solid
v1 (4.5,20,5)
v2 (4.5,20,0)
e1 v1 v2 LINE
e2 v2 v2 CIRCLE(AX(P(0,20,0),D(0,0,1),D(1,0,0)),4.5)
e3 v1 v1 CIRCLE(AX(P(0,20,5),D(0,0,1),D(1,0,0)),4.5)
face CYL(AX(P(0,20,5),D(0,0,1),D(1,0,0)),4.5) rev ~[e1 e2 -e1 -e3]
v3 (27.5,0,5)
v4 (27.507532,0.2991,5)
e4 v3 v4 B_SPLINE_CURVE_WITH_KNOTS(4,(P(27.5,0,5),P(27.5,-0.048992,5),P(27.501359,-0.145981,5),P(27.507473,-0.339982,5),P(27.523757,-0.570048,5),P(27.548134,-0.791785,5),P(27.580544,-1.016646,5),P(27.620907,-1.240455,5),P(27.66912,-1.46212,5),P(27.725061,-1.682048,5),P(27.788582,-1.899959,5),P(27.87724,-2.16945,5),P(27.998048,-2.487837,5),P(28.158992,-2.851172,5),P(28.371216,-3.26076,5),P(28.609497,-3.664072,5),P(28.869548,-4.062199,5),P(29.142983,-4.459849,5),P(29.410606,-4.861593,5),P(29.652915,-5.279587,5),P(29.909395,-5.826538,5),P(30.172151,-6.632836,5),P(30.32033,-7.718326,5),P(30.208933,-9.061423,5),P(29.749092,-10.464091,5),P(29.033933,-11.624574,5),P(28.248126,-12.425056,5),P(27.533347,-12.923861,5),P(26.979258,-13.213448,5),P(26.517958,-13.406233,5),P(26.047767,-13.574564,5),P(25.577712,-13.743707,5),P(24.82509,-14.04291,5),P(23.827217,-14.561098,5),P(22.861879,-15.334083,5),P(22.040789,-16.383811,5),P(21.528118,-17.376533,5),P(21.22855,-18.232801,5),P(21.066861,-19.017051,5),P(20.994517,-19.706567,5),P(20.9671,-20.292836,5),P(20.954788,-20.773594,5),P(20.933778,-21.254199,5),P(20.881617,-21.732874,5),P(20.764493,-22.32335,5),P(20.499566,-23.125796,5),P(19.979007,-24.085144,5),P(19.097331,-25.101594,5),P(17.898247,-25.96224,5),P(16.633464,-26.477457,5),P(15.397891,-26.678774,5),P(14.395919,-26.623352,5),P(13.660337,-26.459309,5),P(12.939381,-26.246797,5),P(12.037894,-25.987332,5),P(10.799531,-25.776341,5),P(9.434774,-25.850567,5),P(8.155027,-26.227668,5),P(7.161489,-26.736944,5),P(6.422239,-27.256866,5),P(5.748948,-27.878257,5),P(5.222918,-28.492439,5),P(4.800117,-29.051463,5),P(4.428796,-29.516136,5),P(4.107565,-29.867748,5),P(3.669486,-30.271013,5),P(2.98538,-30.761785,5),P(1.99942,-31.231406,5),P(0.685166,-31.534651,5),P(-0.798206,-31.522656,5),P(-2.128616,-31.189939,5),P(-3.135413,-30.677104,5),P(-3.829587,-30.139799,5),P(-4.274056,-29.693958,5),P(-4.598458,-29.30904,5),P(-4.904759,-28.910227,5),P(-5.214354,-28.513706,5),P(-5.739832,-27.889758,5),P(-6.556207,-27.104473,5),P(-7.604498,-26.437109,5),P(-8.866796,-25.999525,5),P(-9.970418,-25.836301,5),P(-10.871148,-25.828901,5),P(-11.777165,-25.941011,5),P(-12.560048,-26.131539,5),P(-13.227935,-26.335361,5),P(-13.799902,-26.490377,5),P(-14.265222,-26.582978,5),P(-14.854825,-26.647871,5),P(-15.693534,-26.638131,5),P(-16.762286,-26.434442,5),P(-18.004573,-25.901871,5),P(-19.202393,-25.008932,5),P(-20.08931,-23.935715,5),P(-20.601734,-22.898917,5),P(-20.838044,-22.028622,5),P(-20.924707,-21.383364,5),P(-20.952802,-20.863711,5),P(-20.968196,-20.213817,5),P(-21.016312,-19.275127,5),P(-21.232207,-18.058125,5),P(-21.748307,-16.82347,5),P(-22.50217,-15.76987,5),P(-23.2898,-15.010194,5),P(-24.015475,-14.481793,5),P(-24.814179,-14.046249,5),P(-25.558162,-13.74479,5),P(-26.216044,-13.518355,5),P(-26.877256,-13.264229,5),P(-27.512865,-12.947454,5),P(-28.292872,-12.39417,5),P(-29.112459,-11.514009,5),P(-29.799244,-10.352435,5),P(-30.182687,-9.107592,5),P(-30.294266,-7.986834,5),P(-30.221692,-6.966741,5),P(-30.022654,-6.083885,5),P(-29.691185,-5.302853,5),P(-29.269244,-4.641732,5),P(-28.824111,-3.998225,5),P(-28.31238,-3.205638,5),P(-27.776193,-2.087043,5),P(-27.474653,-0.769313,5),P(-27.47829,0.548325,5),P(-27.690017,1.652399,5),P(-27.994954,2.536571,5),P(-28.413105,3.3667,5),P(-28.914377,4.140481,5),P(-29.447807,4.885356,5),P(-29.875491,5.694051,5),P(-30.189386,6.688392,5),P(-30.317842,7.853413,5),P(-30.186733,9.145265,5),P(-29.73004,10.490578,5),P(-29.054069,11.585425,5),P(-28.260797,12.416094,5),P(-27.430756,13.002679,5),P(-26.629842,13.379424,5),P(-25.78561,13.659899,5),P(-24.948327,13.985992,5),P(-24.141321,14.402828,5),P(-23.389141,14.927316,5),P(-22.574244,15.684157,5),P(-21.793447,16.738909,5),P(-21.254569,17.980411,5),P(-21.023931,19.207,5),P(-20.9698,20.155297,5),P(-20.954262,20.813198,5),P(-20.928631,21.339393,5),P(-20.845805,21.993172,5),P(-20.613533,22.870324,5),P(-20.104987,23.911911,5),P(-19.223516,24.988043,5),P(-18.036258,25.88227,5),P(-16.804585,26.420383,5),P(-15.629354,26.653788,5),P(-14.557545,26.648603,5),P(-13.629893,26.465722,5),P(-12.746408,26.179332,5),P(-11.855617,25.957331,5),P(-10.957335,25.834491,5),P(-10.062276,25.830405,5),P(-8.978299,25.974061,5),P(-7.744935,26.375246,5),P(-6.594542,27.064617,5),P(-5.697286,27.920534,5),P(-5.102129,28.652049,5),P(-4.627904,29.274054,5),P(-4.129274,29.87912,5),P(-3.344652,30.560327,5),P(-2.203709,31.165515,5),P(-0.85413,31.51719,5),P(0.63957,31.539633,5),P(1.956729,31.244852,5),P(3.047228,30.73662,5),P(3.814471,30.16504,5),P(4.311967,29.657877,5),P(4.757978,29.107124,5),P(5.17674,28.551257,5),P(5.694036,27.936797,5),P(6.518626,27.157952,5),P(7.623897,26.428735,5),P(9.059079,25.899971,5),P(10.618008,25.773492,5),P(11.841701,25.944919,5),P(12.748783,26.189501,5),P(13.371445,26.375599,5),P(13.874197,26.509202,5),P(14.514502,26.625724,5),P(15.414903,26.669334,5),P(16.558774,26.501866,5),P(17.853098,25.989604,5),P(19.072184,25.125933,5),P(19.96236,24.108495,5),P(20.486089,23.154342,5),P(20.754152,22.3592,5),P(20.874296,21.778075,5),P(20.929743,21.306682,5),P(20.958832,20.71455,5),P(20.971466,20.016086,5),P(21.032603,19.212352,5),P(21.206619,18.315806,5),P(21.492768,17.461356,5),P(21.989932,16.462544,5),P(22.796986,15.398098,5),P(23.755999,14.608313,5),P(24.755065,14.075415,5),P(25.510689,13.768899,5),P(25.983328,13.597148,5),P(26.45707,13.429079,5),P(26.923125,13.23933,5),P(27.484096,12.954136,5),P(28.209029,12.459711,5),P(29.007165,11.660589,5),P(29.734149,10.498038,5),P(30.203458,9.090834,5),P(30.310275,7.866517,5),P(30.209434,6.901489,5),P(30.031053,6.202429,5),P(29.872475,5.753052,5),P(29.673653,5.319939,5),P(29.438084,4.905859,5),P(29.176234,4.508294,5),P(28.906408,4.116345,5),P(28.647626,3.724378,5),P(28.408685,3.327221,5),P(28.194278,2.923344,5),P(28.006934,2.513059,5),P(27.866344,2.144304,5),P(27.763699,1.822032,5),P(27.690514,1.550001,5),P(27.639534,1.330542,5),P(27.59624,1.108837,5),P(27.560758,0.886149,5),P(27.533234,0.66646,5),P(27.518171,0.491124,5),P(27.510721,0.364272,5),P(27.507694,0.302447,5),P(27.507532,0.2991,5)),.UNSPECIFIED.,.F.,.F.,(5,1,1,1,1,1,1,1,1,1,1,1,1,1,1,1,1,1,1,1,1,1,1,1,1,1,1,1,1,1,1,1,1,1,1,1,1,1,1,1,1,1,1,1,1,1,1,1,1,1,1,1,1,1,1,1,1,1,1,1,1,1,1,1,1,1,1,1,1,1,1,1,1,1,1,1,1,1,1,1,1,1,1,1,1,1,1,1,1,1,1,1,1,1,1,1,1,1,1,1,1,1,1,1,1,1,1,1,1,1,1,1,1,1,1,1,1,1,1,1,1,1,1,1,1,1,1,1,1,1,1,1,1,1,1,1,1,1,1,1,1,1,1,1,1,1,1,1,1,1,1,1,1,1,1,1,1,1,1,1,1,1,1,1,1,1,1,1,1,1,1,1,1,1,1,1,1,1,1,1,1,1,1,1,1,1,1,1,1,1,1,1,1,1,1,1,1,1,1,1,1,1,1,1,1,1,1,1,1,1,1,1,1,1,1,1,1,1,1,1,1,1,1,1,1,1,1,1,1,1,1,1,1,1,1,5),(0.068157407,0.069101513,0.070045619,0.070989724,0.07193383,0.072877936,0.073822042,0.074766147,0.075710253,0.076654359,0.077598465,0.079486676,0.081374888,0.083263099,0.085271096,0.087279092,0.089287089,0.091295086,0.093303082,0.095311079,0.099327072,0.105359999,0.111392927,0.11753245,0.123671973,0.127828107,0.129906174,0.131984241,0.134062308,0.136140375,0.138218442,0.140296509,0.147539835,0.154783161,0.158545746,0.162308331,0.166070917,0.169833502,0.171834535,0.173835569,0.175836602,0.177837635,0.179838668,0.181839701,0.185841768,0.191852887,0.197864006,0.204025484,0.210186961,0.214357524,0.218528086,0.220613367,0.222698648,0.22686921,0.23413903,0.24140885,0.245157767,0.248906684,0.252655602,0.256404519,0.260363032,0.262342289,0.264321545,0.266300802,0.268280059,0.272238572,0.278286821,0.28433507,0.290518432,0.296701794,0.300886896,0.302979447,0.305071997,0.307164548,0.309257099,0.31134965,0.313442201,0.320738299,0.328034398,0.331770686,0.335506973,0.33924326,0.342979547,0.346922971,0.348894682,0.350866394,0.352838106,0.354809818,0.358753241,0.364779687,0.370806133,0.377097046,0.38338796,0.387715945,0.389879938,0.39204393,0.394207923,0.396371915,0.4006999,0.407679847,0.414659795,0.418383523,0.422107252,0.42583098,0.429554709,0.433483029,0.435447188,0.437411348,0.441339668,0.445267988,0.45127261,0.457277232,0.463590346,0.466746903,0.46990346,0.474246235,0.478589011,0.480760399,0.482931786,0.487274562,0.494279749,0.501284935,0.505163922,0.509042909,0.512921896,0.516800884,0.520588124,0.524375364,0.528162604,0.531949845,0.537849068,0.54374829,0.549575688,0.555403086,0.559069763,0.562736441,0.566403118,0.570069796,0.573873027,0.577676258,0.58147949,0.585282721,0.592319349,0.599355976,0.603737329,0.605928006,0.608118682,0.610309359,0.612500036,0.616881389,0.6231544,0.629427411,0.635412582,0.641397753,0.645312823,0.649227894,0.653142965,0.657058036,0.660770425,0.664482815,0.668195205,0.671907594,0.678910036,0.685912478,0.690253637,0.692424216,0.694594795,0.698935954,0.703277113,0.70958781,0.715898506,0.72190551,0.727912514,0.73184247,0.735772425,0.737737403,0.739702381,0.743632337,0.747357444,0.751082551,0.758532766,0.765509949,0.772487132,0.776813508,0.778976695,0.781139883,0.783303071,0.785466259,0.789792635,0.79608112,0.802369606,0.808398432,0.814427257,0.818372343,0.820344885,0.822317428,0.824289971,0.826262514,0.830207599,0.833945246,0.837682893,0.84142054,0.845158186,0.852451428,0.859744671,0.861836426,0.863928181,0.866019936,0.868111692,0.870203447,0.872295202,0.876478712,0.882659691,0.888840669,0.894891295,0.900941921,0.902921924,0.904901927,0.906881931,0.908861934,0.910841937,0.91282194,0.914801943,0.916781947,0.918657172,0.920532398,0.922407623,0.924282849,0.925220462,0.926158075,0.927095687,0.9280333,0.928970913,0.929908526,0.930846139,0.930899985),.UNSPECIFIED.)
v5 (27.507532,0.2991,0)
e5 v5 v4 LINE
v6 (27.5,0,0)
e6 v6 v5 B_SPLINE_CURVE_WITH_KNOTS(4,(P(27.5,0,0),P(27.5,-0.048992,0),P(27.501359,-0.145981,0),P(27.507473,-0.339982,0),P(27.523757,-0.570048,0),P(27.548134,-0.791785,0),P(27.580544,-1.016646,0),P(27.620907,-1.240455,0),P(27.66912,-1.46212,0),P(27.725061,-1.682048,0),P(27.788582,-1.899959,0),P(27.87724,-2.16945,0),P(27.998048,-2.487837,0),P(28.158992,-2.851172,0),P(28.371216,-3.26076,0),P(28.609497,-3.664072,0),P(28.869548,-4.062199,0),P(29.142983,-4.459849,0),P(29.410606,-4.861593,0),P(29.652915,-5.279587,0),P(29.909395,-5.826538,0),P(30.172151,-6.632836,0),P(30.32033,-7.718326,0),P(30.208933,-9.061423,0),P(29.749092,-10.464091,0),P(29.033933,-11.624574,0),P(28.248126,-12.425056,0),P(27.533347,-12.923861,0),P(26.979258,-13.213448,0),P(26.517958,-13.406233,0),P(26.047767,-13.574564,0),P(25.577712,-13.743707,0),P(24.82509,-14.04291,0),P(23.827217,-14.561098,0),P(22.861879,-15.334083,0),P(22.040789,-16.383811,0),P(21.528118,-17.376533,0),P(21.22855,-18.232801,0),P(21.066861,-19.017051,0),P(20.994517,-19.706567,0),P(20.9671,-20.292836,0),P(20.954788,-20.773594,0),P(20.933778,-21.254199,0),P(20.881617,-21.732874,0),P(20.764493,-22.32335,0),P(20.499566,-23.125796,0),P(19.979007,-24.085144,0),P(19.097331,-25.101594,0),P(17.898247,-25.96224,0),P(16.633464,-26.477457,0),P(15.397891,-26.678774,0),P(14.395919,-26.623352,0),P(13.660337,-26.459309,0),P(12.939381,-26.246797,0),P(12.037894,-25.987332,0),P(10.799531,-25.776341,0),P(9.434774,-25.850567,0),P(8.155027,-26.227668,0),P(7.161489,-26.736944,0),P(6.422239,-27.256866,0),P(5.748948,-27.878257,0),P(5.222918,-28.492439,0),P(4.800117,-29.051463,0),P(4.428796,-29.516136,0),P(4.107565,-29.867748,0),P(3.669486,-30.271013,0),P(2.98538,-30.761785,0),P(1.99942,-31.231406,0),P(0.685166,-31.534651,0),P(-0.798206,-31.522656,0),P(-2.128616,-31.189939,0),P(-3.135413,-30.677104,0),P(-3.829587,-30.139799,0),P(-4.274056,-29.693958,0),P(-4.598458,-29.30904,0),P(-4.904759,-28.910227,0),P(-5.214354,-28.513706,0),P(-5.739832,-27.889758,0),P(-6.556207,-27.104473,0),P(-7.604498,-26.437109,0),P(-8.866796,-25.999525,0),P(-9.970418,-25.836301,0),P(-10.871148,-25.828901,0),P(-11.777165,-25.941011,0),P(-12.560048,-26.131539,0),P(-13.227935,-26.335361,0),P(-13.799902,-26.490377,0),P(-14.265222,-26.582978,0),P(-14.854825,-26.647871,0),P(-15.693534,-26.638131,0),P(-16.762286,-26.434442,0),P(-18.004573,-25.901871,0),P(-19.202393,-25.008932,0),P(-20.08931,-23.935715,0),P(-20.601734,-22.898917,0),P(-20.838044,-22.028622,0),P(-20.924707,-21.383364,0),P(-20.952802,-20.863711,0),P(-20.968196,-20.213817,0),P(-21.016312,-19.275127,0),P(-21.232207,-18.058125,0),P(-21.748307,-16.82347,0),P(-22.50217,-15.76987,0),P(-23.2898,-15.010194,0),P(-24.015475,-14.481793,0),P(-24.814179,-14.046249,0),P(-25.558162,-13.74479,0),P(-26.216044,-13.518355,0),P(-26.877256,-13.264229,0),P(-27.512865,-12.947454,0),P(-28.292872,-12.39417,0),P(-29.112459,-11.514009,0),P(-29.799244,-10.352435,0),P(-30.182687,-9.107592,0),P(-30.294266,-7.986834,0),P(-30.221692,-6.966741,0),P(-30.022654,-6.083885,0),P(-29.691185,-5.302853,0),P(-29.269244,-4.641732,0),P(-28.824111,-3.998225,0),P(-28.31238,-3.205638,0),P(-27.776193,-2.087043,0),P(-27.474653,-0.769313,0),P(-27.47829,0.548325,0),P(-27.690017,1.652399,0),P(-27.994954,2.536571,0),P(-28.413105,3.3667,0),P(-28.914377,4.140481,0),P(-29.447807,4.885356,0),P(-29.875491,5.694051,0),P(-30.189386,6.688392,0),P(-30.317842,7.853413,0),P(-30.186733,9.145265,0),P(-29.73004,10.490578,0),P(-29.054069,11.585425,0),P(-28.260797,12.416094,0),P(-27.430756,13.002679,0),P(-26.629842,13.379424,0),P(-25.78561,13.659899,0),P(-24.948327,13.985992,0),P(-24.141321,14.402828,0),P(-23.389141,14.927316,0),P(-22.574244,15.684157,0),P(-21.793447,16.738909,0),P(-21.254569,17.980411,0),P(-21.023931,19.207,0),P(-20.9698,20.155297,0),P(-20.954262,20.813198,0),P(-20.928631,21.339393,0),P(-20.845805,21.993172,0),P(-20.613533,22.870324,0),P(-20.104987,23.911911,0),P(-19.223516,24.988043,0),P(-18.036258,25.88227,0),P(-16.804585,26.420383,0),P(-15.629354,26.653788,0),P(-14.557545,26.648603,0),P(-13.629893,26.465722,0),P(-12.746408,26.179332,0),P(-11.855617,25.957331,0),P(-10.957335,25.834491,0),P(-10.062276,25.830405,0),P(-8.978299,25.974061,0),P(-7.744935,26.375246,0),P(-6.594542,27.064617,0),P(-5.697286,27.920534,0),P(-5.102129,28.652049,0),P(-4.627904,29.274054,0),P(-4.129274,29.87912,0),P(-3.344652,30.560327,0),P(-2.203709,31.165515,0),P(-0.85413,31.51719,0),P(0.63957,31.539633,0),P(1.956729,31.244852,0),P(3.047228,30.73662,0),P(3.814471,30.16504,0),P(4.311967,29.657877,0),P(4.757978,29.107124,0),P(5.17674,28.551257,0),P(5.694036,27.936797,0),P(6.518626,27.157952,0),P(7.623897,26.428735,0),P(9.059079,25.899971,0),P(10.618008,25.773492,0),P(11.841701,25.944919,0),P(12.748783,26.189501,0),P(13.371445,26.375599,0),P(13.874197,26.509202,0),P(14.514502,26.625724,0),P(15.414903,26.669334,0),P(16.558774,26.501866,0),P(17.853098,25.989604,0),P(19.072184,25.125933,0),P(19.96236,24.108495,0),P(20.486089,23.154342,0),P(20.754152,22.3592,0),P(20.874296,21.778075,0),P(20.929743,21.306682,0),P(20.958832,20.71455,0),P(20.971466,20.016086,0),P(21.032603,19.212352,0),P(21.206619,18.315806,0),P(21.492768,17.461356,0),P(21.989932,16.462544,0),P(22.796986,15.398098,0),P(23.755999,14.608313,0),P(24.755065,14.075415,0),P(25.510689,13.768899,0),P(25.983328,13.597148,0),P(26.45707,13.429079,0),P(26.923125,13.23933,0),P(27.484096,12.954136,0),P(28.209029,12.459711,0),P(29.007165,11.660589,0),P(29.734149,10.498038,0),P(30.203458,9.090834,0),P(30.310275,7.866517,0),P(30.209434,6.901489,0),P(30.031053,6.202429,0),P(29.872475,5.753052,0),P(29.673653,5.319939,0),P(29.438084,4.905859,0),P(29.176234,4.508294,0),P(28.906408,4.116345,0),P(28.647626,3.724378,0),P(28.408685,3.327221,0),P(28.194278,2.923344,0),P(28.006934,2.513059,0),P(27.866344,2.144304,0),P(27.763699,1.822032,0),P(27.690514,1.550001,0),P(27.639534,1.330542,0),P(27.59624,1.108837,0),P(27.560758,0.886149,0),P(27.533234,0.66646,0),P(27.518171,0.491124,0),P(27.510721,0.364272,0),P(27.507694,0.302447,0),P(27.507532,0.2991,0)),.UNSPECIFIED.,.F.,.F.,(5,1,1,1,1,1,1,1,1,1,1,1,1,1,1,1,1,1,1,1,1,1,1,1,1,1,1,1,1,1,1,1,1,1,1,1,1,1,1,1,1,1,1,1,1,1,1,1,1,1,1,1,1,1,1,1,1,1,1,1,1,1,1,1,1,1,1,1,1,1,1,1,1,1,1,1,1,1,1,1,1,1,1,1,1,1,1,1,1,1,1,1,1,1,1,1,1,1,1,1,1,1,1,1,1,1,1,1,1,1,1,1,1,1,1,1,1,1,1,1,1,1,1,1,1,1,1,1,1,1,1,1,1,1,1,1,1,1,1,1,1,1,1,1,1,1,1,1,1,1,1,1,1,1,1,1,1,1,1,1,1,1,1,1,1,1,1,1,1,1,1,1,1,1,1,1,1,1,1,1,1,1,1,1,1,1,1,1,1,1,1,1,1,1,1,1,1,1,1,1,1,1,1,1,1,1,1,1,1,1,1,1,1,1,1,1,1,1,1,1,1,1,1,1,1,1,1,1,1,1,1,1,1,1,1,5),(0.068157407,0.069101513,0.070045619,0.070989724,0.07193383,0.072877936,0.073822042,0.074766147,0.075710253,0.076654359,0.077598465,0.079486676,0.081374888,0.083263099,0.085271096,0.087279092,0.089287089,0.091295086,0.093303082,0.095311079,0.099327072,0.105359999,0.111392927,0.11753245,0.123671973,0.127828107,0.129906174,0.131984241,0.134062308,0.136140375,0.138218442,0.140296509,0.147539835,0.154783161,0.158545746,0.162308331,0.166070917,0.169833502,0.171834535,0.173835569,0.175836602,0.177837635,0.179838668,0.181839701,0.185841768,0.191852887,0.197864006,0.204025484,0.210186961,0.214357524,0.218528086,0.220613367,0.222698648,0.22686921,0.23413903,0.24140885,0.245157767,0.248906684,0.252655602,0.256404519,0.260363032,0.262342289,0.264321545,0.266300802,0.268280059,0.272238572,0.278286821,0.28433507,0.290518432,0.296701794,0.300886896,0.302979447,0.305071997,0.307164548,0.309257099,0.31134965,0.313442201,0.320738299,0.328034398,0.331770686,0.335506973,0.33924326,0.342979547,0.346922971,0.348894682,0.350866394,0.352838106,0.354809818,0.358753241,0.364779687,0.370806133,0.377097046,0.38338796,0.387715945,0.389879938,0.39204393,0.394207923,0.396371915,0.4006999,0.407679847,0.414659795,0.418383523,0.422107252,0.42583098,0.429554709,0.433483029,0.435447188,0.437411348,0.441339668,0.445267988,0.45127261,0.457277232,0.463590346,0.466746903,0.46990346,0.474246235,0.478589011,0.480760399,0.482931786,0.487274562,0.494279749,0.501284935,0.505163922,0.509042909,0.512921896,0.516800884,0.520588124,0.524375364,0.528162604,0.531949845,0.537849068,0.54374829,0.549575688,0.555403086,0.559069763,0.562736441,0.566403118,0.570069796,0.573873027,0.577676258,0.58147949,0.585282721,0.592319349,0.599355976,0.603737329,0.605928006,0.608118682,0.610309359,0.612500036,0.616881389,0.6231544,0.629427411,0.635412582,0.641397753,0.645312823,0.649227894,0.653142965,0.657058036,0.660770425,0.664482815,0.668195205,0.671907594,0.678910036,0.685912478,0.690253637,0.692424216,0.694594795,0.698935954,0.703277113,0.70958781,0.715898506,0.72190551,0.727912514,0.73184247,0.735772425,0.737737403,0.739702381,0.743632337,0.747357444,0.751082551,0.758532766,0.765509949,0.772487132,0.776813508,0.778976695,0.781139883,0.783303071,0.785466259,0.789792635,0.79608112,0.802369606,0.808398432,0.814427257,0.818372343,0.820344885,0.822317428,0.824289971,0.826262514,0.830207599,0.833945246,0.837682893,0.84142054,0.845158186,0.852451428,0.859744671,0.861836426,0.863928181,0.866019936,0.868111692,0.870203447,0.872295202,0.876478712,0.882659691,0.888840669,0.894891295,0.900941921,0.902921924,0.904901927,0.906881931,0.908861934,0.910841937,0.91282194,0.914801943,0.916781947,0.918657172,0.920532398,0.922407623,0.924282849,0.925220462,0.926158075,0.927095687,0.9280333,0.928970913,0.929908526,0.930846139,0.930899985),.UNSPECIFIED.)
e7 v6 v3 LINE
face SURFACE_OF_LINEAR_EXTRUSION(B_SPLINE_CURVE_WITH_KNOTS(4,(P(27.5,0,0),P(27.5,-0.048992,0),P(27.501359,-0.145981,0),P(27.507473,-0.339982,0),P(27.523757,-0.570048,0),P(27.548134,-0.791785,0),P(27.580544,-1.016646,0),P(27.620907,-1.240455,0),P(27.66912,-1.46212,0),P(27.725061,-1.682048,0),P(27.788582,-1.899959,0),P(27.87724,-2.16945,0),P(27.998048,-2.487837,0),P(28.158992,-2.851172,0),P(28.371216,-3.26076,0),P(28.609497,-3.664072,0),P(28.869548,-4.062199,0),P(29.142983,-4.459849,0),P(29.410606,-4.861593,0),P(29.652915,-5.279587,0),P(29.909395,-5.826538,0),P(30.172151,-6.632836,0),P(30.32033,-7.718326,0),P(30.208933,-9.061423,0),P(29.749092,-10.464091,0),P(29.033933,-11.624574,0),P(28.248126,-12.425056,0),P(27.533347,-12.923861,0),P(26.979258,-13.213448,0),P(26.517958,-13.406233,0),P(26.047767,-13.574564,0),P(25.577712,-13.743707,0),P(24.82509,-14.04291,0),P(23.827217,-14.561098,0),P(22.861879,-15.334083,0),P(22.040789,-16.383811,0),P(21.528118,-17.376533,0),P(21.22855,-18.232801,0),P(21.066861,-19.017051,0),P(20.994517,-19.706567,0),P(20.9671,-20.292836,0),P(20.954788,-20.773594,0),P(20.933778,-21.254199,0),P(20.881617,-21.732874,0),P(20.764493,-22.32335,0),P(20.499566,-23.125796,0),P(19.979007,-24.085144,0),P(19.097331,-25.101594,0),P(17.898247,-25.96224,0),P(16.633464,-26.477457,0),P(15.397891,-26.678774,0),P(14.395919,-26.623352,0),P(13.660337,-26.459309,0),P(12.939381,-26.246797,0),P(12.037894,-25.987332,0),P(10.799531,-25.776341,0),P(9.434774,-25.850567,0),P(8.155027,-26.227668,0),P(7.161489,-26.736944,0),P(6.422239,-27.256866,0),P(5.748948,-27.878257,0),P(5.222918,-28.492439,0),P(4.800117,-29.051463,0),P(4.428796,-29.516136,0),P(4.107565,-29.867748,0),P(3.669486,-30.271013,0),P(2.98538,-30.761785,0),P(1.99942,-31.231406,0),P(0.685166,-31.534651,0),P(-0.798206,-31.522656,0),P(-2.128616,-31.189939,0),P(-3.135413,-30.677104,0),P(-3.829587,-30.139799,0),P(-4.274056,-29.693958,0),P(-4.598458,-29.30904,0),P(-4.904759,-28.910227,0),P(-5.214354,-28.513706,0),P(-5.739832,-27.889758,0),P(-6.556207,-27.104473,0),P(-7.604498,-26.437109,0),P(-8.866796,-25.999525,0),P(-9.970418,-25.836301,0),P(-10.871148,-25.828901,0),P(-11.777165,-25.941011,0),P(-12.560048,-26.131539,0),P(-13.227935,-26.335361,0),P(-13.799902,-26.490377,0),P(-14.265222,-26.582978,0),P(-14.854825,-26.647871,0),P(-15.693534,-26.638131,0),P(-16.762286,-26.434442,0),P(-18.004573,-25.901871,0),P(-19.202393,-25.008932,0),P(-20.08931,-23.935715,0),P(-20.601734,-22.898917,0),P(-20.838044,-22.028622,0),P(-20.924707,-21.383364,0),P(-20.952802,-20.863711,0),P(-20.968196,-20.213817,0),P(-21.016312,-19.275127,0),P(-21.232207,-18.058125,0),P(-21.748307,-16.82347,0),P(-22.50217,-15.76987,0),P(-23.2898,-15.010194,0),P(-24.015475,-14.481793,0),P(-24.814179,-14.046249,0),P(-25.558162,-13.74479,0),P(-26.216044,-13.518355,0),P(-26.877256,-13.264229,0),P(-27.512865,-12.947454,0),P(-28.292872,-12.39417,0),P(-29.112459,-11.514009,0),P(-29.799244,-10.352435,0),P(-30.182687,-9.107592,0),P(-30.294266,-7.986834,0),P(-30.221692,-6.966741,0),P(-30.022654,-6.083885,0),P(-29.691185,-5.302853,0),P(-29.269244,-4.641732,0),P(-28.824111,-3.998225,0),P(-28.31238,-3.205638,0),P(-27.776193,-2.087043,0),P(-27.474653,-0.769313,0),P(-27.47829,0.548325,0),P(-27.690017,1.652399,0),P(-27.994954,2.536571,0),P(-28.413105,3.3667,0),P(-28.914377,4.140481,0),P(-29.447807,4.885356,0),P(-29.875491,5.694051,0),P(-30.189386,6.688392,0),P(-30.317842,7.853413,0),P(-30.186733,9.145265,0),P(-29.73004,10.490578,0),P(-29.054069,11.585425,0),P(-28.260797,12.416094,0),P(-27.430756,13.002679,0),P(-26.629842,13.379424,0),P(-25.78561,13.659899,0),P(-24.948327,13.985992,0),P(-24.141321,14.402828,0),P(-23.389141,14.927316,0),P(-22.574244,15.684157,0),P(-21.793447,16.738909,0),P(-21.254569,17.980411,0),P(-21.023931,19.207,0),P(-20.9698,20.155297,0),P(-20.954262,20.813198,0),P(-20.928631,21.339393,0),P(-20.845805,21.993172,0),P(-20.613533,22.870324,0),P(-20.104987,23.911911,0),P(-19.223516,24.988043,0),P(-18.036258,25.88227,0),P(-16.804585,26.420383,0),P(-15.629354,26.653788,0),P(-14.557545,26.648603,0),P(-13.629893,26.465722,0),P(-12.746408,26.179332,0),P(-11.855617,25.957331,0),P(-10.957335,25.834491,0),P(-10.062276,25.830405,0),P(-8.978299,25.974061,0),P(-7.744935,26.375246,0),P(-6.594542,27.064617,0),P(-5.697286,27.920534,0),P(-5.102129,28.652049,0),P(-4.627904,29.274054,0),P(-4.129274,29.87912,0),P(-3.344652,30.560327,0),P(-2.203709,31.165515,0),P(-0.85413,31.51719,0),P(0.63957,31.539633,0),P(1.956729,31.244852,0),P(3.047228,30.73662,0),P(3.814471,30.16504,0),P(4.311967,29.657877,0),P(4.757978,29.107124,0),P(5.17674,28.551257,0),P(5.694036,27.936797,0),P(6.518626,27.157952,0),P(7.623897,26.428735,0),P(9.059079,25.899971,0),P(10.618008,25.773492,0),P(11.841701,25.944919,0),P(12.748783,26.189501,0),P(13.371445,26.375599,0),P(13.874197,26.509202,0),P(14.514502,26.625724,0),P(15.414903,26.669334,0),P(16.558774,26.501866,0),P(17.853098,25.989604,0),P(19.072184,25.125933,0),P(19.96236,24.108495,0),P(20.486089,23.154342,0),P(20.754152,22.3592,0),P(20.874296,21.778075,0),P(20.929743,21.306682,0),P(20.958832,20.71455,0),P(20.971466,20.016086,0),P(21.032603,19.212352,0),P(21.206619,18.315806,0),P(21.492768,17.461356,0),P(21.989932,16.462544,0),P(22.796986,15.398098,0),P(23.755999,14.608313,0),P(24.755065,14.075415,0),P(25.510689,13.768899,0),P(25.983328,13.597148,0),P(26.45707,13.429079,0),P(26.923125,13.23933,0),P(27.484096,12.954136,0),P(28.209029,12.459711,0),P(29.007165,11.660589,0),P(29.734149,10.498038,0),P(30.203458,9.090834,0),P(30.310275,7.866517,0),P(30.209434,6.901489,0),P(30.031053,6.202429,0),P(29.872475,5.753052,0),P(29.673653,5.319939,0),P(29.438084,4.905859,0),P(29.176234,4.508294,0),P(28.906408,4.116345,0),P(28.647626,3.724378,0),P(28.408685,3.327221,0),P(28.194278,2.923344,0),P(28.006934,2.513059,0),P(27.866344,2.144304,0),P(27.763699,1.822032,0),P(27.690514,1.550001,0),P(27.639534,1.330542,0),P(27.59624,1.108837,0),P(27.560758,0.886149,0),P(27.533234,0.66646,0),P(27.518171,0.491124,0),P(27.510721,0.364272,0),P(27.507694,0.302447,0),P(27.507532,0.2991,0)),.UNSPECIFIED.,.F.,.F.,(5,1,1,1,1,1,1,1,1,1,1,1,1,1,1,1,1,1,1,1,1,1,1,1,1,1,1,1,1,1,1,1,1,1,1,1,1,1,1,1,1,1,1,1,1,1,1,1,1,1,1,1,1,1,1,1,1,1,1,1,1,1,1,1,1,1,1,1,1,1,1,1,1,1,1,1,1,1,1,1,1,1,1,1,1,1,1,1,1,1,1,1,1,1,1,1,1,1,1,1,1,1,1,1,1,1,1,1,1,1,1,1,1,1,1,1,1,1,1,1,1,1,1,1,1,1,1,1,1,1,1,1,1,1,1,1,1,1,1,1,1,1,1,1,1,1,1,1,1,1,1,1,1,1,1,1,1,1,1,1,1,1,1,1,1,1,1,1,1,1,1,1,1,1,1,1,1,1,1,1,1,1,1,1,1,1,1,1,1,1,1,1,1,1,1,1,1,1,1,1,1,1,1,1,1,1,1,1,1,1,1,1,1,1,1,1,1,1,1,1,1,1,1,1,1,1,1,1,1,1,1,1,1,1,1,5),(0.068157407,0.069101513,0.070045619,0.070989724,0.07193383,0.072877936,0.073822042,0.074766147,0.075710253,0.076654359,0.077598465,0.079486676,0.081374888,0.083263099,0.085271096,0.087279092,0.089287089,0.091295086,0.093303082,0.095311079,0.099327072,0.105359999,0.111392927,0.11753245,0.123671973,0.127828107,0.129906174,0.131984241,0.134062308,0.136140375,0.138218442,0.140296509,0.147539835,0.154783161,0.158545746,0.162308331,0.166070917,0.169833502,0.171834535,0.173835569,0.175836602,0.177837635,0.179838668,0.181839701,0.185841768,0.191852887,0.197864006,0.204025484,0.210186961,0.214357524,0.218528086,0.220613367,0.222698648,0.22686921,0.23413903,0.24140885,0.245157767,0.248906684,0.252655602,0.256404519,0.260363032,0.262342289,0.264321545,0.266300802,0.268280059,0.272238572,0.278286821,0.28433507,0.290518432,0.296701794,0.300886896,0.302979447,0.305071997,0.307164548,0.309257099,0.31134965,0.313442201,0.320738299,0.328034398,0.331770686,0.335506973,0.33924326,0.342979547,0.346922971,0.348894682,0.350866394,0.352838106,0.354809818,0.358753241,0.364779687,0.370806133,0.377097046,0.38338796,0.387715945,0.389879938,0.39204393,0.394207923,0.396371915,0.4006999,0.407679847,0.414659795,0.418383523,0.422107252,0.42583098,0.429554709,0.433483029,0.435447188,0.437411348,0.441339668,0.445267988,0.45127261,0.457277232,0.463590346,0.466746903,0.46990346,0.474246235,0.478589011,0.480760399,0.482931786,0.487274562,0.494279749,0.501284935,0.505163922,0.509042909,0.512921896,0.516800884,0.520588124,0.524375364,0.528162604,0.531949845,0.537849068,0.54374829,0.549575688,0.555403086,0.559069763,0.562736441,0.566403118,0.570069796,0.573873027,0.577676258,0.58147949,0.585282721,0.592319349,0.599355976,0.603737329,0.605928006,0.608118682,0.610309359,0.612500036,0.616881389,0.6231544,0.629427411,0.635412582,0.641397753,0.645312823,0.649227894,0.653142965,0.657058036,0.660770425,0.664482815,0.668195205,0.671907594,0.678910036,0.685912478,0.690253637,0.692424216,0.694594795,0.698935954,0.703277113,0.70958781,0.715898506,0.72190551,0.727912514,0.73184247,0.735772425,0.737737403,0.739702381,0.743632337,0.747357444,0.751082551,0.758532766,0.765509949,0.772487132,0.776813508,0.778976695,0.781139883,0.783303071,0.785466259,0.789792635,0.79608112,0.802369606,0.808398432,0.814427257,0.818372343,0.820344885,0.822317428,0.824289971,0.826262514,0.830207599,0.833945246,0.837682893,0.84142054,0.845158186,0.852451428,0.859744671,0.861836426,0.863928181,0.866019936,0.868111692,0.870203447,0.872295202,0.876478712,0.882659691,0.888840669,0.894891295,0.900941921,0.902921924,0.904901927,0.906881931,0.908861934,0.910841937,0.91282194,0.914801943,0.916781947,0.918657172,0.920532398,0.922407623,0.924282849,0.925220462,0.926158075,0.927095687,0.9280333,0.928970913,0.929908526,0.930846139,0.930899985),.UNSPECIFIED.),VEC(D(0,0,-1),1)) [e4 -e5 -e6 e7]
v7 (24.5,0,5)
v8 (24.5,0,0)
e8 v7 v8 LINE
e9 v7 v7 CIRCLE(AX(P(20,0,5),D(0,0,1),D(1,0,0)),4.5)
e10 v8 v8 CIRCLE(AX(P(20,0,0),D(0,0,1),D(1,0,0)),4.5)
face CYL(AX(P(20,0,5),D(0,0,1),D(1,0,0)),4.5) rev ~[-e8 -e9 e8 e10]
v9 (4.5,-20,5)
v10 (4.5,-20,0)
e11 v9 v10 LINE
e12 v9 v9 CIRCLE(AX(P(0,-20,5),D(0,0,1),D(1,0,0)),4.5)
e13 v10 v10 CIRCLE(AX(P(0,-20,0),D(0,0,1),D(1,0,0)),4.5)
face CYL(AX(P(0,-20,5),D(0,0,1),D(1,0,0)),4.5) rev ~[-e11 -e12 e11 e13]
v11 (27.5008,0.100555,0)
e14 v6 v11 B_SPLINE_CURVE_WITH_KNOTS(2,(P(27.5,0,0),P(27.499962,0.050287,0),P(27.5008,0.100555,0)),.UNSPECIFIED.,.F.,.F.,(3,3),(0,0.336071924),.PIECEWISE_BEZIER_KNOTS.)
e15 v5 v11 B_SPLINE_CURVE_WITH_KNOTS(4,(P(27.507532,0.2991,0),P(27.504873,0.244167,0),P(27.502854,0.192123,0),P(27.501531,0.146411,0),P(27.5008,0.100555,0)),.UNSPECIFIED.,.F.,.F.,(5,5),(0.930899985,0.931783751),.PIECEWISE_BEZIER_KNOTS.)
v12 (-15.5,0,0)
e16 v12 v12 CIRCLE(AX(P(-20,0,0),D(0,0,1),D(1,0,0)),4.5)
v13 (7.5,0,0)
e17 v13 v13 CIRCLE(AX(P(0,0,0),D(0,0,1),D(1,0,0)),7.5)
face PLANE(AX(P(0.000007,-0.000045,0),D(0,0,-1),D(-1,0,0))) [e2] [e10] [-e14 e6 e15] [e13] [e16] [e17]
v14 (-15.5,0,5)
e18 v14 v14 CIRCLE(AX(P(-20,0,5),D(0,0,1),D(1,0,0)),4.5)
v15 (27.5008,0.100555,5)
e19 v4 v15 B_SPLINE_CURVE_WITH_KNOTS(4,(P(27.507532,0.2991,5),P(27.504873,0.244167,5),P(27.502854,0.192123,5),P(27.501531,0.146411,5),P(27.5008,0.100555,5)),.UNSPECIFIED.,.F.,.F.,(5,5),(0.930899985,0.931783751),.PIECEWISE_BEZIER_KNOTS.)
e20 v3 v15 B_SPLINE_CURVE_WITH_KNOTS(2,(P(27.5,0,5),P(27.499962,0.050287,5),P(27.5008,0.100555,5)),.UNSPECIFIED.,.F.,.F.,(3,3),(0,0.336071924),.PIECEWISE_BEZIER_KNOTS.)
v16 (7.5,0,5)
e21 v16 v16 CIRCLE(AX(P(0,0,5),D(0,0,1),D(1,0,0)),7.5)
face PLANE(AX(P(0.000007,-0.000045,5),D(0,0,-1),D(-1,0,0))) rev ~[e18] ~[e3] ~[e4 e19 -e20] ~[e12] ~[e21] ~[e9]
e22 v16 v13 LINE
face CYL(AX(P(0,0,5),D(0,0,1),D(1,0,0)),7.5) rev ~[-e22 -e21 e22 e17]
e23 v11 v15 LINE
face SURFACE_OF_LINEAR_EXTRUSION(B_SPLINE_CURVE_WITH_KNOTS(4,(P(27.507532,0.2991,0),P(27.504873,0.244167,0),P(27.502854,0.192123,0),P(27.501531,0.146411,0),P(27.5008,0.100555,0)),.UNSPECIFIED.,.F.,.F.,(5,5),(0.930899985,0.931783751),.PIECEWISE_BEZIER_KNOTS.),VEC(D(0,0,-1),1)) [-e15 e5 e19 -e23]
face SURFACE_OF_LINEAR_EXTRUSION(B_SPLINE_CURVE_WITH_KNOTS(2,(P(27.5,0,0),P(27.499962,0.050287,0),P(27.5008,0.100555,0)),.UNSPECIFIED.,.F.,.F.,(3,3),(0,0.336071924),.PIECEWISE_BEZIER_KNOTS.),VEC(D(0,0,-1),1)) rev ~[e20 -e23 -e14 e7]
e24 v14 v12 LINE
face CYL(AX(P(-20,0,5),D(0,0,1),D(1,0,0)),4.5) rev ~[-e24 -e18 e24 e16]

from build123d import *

# Parameters (mm, degrees)
BOSS_EXTRUDE1_DEPTH = 5
SKETCH3_R           = 7.5
CUT_EXTRUDE1_DEPTH  = 5
SKETCH4_R           = 4.5
CUT_EXTRUDE2_DEPTH  = 5


with BuildPart() as part:
    # Sketch2 → Boss-Extrude1 (new body)
    with BuildSketch(Plane.XY):
        with BuildLine():
            add(Edge.make_bspline(
                [(27.5, 0), (27.5, -0.04899217), (27.50135866, -0.145980801), (27.507472654, -0.339982279), (27.523756925, -0.570047647), (27.548133929, -0.791785096), (27.580543941, -1.016646016), (27.620906624, -1.240455333), (27.669120401, -1.462120318), (27.725061331, -1.682048112), (27.788581513, -1.899959083), (27.87723987, -2.16945037), (27.998047594, -2.487837294), (28.158992275, -2.851172113), (28.371216221, -3.260760334), (28.609496874, -3.664071589), (28.869547917, -4.062199399), (29.142983154, -4.459848636), (29.410606359, -4.861593026), (29.652914601, -5.27958699), (29.909394747, -5.826537984), (30.172150712, -6.632835686), (30.320330137, -7.718326385), (30.208932651, -9.061422993), (29.749092141, -10.464091162), (29.033932991, -11.624574121), (28.248126213, -12.425056122), (27.533347436, -12.923861083), (26.979258064, -13.213448171), (26.517958047, -13.406233161), (26.04776714, -13.574563835), (25.577712412, -13.7437073), (24.825090037, -14.04291038), (23.827217442, -14.561098484), (22.861879466, -15.334082504), (22.040788621, -16.383811215), (21.528118141, -17.376533007), (21.228550237, -18.232801464), (21.066860687, -19.017050522), (20.994517463, -19.706566829), (20.967099781, -20.292836156), (20.954787651, -20.773593995), (20.933778384, -21.254199064), (20.881616978, -21.732873579), (20.764492767, -22.323349948), (20.499566135, -23.12579641), (19.979007228, -24.085143815), (19.097331302, -25.101593868), (17.898246601, -25.962240434), (16.633463883, -26.477456981), (15.397891194, -26.678773779), (14.395919298, -26.623352055), (13.660337246, -26.459308742), (12.939381013, -26.246796934), (12.037894225, -25.987331765), (10.799530559, -25.776341191), (9.434774247, -25.850566789), (8.155026622, -26.227668412), (7.161489216, -26.736944431), (6.422239126, -27.256866119), (5.748947606, -27.878256719), (5.222918193, -28.4924395), (4.800117167, -29.051463242), (4.42879569, -29.516136265), (4.10756511, -29.86774765), (3.669485672, -30.271013184), (2.985379518, -30.761784692), (1.999420221, -31.231406385), (0.68516587, -31.534650673), (-0.798205604, -31.522656113), (-2.128615505, -31.189938616), (-3.135413349, -30.677103573), (-3.82958727, -30.139799491), (-4.274055959, -29.693957627), (-4.598457724, -29.309039614), (-4.904758838, -28.910227269), (-5.214354414, -28.513705816), (-5.739832162, -27.8897576), (-6.556207038, -27.104472974), (-7.604498456, -26.437108519), (-8.866795762, -25.999525451), (-9.970418078, -25.836301198), (-10.871148026, -25.828901412), (-11.777165475, -25.941010531), (-12.560048382, -26.131538667), (-13.227934503, -26.335361352), (-13.799901689, -26.490376768), (-14.26522164, -26.582977584), (-14.854825422, -26.647871085), (-15.693533833, -26.638131044), (-16.762285657, -26.434441739), (-18.004572962, -25.901871355), (-19.202392537, -25.00893244), (-20.089310365, -23.935714997), (-20.601734095, -22.898917155), (-20.838044071, -22.028621594), (-20.924706566, -21.383363928), (-20.952801811, -20.863710634), (-20.96819599, -20.213817255), (-21.01631244, -19.275126767), (-21.232207201, -18.058124945), (-21.748306978, -16.823469899), (-22.502170081, -15.769869921), (-23.289800172, -15.010193932), (-24.015474904, -14.481793444), (-24.814179253, -14.046249047), (-25.558161605, -13.744789797), (-26.216044268, -13.518355163), (-26.877255565, -13.264228871), (-27.512865113, -12.947453785), (-28.292872306, -12.394170003), (-29.112459011, -11.514008548), (-29.799243603, -10.352435058), (-30.182686666, -9.107591771), (-30.294266249, -7.986834397), (-30.221692293, -6.966740629), (-30.022653879, -6.083885018), (-29.691185023, -5.302853172), (-29.269244355, -4.641732216), (-28.824111069, -3.998224618), (-28.312379876, -3.205638073), (-27.776193235, -2.08704254), (-27.474652632, -0.769312565), (-27.478290084, 0.548325486), (-27.69001683, 1.652399406), (-27.994954116, 2.536570728), (-28.413105114, 3.366699758), (-28.914377217, 4.140481), (-29.447806729, 4.885355759), (-29.875490711, 5.694050512), (-30.189386197, 6.688392203), (-30.317842311, 7.85341256), (-30.186732607, 9.145264959), (-29.730040062, 10.490578333), (-29.054068555, 11.585424729), (-28.260797371, 12.416094066), (-27.430755725, 13.002678894), (-26.62984203, 13.379423564), (-25.785609625, 13.659898713), (-24.948326578, 13.985991882), (-24.141321444, 14.402828102), (-23.389141188, 14.927315645), (-22.574243756, 15.684157272), (-21.793446903, 16.7389094), (-21.254569184, 17.980410903), (-21.023931113, 19.206999551), (-20.969799668, 20.155296748), (-20.954262277, 20.813198115), (-20.92863053, 21.339392572), (-20.845804659, 21.993172379), (-20.613532779, 22.870323537), (-20.104987014, 23.91191074), (-19.223516425, 24.988043106), (-18.036257619, 25.882270163), (-16.804585096, 26.420383437), (-15.629353645, 26.653788326), (-14.557544601, 26.648603446), (-13.629892759, 26.465722207), (-12.746408377, 26.179332035), (-11.85561661, 25.957331232), (-10.957335429, 25.834490601), (-10.062275579, 25.830404882), (-8.978299212, 25.974061157), (-7.744935026, 26.375246441), (-6.594542371, 27.064617132), (-5.697285904, 27.92053444), (-5.102128848, 28.652048875), (-4.627903549, 29.274054081), (-4.129273858, 29.879120318), (-3.344651736, 30.560327081), (-2.203708507, 31.165515183), (-0.854130087, 31.51718995), (0.639569762, 31.539632605), (1.956728735, 31.244851744), (3.047227561, 30.736620441), (3.814470706, 30.165040248), (4.311966667, 29.657876957), (4.757978081, 29.107124397), (5.176739636, 28.551256817), (5.694035861, 27.936796936), (6.518625784, 27.157952455), (7.623896654, 26.428735065), (9.059079107, 25.899970885), (10.61800797, 25.773492163), (11.841701099, 25.944918843), (12.748783199, 26.18950086), (13.371444632, 26.375598564), (13.874196564, 26.509201798), (14.514501534, 26.62572373), (15.414903431, 26.669333724), (16.558774471, 26.501865833), (17.853098114, 25.989603987), (19.072183707, 25.125932986), (19.962359733, 24.108495101), (20.48608855, 23.154342422), (20.754152378, 22.359200107), (20.874295701, 21.77807522), (20.929743059, 21.306681605), (20.958832115, 20.714549688), (20.971466064, 20.016086385), (21.032602862, 19.212352135), (21.206619139, 18.315806423), (21.492768161, 17.461355954), (21.989932448, 16.462544158), (22.796985821, 15.398098246), (23.755999115, 14.6083126), (24.755065293, 14.075414997), (25.510689165, 13.76889927), (25.983327536, 13.597148379), (26.457070471, 13.429078659), (26.92312452, 13.239330277), (27.484095558, 12.954136339), (28.209029352, 12.459711173), (29.007164713, 11.660589127), (29.734149434, 10.498038041), (30.203457883, 9.090834477), (30.310275415, 7.866516893), (30.209433636, 6.901488775), (30.031052755, 6.202428639), (29.872474757, 5.753051872), (29.673653477, 5.319938511), (29.438083984, 4.905859039), (29.176233755, 4.508293873), (28.906407754, 4.116345418), (28.647626429, 3.72437827), (28.408685192, 3.32722084), (28.194278473, 2.923344084), (28.006934286, 2.51305946), (27.866343861, 2.144303687), (27.763699109, 1.822032249), (27.690514228, 1.550000941), (27.639533813, 1.33054248), (27.596240396, 1.10883748), (27.56075827, 0.886148585), (27.533233856, 0.666460317), (27.518171139, 0.491124062), (27.510721259, 0.364271535), (27.507694029, 0.30244702), (27.507531997, 0.299100054)],
                knots=[0.068157407, 0.068157407, 0.068157407, 0.068157407, 0.068157407, 0.069101513, 0.070045619, 0.070989724, 0.07193383, 0.072877936, 0.073822042, 0.074766147, 0.075710253, 0.076654359, 0.077598465, 0.079486676, 0.081374888, 0.083263099, 0.085271096, 0.087279092, 0.089287089, 0.091295086, 0.093303082, 0.095311079, 0.099327072, 0.105359999, 0.111392927, 0.11753245, 0.123671973, 0.127828107, 0.129906174, 0.131984241, 0.134062308, 0.136140375, 0.138218442, 0.140296509, 0.147539835, 0.154783161, 0.158545746, 0.162308331, 0.166070917, 0.169833502, 0.171834535, 0.173835569, 0.175836602, 0.177837635, 0.179838668, 0.181839701, 0.185841768, 0.191852887, 0.197864006, 0.204025484, 0.210186961, 0.214357524, 0.218528086, 0.220613367, 0.222698648, 0.22686921, 0.23413903, 0.24140885, 0.245157767, 0.248906684, 0.252655602, 0.256404519, 0.260363032, 0.262342289, 0.264321545, 0.266300802, 0.268280059, 0.272238572, 0.278286821, 0.28433507, 0.290518432, 0.296701794, 0.300886896, 0.302979447, 0.305071997, 0.307164548, 0.309257099, 0.31134965, 0.313442201, 0.320738299, 0.328034398, 0.331770686, 0.335506973, 0.33924326, 0.342979547, 0.346922971, 0.348894682, 0.350866394, 0.352838106, 0.354809818, 0.358753241, 0.364779687, 0.370806133, 0.377097046, 0.38338796, 0.387715945, 0.389879938, 0.39204393, 0.394207923, 0.396371915, 0.4006999, 0.407679847, 0.414659795, 0.418383523, 0.422107252, 0.42583098, 0.429554709, 0.433483029, 0.435447188, 0.437411348, 0.441339668, 0.445267988, 0.45127261, 0.457277232, 0.463590346, 0.466746903, 0.46990346, 0.474246235, 0.478589011, 0.480760399, 0.482931786, 0.487274562, 0.494279749, 0.501284935, 0.505163922, 0.509042909, 0.512921896, 0.516800884, 0.520588124, 0.524375364, 0.528162604, 0.531949845, 0.537849068, 0.54374829, 0.549575688, 0.555403086, 0.559069763, 0.562736441, 0.566403118, 0.570069796, 0.573873027, 0.577676258, 0.58147949, 0.585282721, 0.592319349, 0.599355976, 0.603737329, 0.605928006, 0.608118682, 0.610309359, 0.612500036, 0.616881389, 0.6231544, 0.629427411, 0.635412582, 0.641397753, 0.645312823, 0.649227894, 0.653142965, 0.657058036, 0.660770425, 0.664482815, 0.668195205, 0.671907594, 0.678910036, 0.685912478, 0.690253637, 0.692424216, 0.694594795, 0.698935954, 0.703277113, 0.70958781, 0.715898506, 0.72190551, 0.727912514, 0.73184247, 0.735772425, 0.737737403, 0.739702381, 0.743632337, 0.747357444, 0.751082551, 0.758532766, 0.765509949, 0.772487132, 0.776813508, 0.778976695, 0.781139883, 0.783303071, 0.785466259, 0.789792635, 0.79608112, 0.802369606, 0.808398432, 0.814427257, 0.818372343, 0.820344885, 0.822317428, 0.824289971, 0.826262514, 0.830207599, 0.833945246, 0.837682893, 0.84142054, 0.845158186, 0.852451428, 0.859744671, 0.861836426, 0.863928181, 0.866019936, 0.868111692, 0.870203447, 0.872295202, 0.876478712, 0.882659691, 0.888840669, 0.894891295, 0.900941921, 0.902921924, 0.904901927, 0.906881931, 0.908861934, 0.910841937, 0.91282194, 0.914801943, 0.916781947, 0.918657172, 0.920532398, 0.922407623, 0.924282849, 0.925220462, 0.926158075, 0.927095687, 0.9280333, 0.928970913, 0.929908526, 0.930846139, 0.930899985, 0.930899985, 0.930899985, 0.930899985, 0.930899985], degree=4))
            add(Edge.make_bspline(
                [(27.5, 0), (27.499962152, 0.050286846), (27.50080044, 0.100555355)],
                knots=[0, 0, 0, 0.336071924, 0.336071924, 0.336071924], degree=2))
            add(Edge.make_bspline(
                [(27.507531997, 0.299100054), (27.504872602, 0.24416695), (27.502853578, 0.19212297), (27.501530505, 0.146410555), (27.50080044, 0.100555355)],
                knots=[0.930899985, 0.930899985, 0.930899985, 0.930899985, 0.930899985, 0.931783751, 0.931783751, 0.931783751, 0.931783751, 0.931783751], degree=4))
        make_face()
    extrude(amount=BOSS_EXTRUDE1_DEPTH)

    # Sketch3 → Cut-Extrude1 (cut)
    with BuildSketch(Plane.XY.offset(5)):
        Circle(SKETCH3_R)
    extrude(amount=-CUT_EXTRUDE1_DEPTH, mode=Mode.SUBTRACT)

    # Sketch4 → Cut-Extrude2 (cut)
    with BuildSketch(Plane.XY.offset(5)):
        with Locations((20, 0)):
            Circle(SKETCH4_R)
        with Locations((0, -20)):
            Circle(SKETCH4_R)
        with Locations((-20, 0)):
            Circle(SKETCH4_R)
        with Locations((0, 20)):
            Circle(SKETCH4_R)
    extrude(amount=-CUT_EXTRUDE2_DEPTH, mode=Mode.SUBTRACT)


solid = part.part
